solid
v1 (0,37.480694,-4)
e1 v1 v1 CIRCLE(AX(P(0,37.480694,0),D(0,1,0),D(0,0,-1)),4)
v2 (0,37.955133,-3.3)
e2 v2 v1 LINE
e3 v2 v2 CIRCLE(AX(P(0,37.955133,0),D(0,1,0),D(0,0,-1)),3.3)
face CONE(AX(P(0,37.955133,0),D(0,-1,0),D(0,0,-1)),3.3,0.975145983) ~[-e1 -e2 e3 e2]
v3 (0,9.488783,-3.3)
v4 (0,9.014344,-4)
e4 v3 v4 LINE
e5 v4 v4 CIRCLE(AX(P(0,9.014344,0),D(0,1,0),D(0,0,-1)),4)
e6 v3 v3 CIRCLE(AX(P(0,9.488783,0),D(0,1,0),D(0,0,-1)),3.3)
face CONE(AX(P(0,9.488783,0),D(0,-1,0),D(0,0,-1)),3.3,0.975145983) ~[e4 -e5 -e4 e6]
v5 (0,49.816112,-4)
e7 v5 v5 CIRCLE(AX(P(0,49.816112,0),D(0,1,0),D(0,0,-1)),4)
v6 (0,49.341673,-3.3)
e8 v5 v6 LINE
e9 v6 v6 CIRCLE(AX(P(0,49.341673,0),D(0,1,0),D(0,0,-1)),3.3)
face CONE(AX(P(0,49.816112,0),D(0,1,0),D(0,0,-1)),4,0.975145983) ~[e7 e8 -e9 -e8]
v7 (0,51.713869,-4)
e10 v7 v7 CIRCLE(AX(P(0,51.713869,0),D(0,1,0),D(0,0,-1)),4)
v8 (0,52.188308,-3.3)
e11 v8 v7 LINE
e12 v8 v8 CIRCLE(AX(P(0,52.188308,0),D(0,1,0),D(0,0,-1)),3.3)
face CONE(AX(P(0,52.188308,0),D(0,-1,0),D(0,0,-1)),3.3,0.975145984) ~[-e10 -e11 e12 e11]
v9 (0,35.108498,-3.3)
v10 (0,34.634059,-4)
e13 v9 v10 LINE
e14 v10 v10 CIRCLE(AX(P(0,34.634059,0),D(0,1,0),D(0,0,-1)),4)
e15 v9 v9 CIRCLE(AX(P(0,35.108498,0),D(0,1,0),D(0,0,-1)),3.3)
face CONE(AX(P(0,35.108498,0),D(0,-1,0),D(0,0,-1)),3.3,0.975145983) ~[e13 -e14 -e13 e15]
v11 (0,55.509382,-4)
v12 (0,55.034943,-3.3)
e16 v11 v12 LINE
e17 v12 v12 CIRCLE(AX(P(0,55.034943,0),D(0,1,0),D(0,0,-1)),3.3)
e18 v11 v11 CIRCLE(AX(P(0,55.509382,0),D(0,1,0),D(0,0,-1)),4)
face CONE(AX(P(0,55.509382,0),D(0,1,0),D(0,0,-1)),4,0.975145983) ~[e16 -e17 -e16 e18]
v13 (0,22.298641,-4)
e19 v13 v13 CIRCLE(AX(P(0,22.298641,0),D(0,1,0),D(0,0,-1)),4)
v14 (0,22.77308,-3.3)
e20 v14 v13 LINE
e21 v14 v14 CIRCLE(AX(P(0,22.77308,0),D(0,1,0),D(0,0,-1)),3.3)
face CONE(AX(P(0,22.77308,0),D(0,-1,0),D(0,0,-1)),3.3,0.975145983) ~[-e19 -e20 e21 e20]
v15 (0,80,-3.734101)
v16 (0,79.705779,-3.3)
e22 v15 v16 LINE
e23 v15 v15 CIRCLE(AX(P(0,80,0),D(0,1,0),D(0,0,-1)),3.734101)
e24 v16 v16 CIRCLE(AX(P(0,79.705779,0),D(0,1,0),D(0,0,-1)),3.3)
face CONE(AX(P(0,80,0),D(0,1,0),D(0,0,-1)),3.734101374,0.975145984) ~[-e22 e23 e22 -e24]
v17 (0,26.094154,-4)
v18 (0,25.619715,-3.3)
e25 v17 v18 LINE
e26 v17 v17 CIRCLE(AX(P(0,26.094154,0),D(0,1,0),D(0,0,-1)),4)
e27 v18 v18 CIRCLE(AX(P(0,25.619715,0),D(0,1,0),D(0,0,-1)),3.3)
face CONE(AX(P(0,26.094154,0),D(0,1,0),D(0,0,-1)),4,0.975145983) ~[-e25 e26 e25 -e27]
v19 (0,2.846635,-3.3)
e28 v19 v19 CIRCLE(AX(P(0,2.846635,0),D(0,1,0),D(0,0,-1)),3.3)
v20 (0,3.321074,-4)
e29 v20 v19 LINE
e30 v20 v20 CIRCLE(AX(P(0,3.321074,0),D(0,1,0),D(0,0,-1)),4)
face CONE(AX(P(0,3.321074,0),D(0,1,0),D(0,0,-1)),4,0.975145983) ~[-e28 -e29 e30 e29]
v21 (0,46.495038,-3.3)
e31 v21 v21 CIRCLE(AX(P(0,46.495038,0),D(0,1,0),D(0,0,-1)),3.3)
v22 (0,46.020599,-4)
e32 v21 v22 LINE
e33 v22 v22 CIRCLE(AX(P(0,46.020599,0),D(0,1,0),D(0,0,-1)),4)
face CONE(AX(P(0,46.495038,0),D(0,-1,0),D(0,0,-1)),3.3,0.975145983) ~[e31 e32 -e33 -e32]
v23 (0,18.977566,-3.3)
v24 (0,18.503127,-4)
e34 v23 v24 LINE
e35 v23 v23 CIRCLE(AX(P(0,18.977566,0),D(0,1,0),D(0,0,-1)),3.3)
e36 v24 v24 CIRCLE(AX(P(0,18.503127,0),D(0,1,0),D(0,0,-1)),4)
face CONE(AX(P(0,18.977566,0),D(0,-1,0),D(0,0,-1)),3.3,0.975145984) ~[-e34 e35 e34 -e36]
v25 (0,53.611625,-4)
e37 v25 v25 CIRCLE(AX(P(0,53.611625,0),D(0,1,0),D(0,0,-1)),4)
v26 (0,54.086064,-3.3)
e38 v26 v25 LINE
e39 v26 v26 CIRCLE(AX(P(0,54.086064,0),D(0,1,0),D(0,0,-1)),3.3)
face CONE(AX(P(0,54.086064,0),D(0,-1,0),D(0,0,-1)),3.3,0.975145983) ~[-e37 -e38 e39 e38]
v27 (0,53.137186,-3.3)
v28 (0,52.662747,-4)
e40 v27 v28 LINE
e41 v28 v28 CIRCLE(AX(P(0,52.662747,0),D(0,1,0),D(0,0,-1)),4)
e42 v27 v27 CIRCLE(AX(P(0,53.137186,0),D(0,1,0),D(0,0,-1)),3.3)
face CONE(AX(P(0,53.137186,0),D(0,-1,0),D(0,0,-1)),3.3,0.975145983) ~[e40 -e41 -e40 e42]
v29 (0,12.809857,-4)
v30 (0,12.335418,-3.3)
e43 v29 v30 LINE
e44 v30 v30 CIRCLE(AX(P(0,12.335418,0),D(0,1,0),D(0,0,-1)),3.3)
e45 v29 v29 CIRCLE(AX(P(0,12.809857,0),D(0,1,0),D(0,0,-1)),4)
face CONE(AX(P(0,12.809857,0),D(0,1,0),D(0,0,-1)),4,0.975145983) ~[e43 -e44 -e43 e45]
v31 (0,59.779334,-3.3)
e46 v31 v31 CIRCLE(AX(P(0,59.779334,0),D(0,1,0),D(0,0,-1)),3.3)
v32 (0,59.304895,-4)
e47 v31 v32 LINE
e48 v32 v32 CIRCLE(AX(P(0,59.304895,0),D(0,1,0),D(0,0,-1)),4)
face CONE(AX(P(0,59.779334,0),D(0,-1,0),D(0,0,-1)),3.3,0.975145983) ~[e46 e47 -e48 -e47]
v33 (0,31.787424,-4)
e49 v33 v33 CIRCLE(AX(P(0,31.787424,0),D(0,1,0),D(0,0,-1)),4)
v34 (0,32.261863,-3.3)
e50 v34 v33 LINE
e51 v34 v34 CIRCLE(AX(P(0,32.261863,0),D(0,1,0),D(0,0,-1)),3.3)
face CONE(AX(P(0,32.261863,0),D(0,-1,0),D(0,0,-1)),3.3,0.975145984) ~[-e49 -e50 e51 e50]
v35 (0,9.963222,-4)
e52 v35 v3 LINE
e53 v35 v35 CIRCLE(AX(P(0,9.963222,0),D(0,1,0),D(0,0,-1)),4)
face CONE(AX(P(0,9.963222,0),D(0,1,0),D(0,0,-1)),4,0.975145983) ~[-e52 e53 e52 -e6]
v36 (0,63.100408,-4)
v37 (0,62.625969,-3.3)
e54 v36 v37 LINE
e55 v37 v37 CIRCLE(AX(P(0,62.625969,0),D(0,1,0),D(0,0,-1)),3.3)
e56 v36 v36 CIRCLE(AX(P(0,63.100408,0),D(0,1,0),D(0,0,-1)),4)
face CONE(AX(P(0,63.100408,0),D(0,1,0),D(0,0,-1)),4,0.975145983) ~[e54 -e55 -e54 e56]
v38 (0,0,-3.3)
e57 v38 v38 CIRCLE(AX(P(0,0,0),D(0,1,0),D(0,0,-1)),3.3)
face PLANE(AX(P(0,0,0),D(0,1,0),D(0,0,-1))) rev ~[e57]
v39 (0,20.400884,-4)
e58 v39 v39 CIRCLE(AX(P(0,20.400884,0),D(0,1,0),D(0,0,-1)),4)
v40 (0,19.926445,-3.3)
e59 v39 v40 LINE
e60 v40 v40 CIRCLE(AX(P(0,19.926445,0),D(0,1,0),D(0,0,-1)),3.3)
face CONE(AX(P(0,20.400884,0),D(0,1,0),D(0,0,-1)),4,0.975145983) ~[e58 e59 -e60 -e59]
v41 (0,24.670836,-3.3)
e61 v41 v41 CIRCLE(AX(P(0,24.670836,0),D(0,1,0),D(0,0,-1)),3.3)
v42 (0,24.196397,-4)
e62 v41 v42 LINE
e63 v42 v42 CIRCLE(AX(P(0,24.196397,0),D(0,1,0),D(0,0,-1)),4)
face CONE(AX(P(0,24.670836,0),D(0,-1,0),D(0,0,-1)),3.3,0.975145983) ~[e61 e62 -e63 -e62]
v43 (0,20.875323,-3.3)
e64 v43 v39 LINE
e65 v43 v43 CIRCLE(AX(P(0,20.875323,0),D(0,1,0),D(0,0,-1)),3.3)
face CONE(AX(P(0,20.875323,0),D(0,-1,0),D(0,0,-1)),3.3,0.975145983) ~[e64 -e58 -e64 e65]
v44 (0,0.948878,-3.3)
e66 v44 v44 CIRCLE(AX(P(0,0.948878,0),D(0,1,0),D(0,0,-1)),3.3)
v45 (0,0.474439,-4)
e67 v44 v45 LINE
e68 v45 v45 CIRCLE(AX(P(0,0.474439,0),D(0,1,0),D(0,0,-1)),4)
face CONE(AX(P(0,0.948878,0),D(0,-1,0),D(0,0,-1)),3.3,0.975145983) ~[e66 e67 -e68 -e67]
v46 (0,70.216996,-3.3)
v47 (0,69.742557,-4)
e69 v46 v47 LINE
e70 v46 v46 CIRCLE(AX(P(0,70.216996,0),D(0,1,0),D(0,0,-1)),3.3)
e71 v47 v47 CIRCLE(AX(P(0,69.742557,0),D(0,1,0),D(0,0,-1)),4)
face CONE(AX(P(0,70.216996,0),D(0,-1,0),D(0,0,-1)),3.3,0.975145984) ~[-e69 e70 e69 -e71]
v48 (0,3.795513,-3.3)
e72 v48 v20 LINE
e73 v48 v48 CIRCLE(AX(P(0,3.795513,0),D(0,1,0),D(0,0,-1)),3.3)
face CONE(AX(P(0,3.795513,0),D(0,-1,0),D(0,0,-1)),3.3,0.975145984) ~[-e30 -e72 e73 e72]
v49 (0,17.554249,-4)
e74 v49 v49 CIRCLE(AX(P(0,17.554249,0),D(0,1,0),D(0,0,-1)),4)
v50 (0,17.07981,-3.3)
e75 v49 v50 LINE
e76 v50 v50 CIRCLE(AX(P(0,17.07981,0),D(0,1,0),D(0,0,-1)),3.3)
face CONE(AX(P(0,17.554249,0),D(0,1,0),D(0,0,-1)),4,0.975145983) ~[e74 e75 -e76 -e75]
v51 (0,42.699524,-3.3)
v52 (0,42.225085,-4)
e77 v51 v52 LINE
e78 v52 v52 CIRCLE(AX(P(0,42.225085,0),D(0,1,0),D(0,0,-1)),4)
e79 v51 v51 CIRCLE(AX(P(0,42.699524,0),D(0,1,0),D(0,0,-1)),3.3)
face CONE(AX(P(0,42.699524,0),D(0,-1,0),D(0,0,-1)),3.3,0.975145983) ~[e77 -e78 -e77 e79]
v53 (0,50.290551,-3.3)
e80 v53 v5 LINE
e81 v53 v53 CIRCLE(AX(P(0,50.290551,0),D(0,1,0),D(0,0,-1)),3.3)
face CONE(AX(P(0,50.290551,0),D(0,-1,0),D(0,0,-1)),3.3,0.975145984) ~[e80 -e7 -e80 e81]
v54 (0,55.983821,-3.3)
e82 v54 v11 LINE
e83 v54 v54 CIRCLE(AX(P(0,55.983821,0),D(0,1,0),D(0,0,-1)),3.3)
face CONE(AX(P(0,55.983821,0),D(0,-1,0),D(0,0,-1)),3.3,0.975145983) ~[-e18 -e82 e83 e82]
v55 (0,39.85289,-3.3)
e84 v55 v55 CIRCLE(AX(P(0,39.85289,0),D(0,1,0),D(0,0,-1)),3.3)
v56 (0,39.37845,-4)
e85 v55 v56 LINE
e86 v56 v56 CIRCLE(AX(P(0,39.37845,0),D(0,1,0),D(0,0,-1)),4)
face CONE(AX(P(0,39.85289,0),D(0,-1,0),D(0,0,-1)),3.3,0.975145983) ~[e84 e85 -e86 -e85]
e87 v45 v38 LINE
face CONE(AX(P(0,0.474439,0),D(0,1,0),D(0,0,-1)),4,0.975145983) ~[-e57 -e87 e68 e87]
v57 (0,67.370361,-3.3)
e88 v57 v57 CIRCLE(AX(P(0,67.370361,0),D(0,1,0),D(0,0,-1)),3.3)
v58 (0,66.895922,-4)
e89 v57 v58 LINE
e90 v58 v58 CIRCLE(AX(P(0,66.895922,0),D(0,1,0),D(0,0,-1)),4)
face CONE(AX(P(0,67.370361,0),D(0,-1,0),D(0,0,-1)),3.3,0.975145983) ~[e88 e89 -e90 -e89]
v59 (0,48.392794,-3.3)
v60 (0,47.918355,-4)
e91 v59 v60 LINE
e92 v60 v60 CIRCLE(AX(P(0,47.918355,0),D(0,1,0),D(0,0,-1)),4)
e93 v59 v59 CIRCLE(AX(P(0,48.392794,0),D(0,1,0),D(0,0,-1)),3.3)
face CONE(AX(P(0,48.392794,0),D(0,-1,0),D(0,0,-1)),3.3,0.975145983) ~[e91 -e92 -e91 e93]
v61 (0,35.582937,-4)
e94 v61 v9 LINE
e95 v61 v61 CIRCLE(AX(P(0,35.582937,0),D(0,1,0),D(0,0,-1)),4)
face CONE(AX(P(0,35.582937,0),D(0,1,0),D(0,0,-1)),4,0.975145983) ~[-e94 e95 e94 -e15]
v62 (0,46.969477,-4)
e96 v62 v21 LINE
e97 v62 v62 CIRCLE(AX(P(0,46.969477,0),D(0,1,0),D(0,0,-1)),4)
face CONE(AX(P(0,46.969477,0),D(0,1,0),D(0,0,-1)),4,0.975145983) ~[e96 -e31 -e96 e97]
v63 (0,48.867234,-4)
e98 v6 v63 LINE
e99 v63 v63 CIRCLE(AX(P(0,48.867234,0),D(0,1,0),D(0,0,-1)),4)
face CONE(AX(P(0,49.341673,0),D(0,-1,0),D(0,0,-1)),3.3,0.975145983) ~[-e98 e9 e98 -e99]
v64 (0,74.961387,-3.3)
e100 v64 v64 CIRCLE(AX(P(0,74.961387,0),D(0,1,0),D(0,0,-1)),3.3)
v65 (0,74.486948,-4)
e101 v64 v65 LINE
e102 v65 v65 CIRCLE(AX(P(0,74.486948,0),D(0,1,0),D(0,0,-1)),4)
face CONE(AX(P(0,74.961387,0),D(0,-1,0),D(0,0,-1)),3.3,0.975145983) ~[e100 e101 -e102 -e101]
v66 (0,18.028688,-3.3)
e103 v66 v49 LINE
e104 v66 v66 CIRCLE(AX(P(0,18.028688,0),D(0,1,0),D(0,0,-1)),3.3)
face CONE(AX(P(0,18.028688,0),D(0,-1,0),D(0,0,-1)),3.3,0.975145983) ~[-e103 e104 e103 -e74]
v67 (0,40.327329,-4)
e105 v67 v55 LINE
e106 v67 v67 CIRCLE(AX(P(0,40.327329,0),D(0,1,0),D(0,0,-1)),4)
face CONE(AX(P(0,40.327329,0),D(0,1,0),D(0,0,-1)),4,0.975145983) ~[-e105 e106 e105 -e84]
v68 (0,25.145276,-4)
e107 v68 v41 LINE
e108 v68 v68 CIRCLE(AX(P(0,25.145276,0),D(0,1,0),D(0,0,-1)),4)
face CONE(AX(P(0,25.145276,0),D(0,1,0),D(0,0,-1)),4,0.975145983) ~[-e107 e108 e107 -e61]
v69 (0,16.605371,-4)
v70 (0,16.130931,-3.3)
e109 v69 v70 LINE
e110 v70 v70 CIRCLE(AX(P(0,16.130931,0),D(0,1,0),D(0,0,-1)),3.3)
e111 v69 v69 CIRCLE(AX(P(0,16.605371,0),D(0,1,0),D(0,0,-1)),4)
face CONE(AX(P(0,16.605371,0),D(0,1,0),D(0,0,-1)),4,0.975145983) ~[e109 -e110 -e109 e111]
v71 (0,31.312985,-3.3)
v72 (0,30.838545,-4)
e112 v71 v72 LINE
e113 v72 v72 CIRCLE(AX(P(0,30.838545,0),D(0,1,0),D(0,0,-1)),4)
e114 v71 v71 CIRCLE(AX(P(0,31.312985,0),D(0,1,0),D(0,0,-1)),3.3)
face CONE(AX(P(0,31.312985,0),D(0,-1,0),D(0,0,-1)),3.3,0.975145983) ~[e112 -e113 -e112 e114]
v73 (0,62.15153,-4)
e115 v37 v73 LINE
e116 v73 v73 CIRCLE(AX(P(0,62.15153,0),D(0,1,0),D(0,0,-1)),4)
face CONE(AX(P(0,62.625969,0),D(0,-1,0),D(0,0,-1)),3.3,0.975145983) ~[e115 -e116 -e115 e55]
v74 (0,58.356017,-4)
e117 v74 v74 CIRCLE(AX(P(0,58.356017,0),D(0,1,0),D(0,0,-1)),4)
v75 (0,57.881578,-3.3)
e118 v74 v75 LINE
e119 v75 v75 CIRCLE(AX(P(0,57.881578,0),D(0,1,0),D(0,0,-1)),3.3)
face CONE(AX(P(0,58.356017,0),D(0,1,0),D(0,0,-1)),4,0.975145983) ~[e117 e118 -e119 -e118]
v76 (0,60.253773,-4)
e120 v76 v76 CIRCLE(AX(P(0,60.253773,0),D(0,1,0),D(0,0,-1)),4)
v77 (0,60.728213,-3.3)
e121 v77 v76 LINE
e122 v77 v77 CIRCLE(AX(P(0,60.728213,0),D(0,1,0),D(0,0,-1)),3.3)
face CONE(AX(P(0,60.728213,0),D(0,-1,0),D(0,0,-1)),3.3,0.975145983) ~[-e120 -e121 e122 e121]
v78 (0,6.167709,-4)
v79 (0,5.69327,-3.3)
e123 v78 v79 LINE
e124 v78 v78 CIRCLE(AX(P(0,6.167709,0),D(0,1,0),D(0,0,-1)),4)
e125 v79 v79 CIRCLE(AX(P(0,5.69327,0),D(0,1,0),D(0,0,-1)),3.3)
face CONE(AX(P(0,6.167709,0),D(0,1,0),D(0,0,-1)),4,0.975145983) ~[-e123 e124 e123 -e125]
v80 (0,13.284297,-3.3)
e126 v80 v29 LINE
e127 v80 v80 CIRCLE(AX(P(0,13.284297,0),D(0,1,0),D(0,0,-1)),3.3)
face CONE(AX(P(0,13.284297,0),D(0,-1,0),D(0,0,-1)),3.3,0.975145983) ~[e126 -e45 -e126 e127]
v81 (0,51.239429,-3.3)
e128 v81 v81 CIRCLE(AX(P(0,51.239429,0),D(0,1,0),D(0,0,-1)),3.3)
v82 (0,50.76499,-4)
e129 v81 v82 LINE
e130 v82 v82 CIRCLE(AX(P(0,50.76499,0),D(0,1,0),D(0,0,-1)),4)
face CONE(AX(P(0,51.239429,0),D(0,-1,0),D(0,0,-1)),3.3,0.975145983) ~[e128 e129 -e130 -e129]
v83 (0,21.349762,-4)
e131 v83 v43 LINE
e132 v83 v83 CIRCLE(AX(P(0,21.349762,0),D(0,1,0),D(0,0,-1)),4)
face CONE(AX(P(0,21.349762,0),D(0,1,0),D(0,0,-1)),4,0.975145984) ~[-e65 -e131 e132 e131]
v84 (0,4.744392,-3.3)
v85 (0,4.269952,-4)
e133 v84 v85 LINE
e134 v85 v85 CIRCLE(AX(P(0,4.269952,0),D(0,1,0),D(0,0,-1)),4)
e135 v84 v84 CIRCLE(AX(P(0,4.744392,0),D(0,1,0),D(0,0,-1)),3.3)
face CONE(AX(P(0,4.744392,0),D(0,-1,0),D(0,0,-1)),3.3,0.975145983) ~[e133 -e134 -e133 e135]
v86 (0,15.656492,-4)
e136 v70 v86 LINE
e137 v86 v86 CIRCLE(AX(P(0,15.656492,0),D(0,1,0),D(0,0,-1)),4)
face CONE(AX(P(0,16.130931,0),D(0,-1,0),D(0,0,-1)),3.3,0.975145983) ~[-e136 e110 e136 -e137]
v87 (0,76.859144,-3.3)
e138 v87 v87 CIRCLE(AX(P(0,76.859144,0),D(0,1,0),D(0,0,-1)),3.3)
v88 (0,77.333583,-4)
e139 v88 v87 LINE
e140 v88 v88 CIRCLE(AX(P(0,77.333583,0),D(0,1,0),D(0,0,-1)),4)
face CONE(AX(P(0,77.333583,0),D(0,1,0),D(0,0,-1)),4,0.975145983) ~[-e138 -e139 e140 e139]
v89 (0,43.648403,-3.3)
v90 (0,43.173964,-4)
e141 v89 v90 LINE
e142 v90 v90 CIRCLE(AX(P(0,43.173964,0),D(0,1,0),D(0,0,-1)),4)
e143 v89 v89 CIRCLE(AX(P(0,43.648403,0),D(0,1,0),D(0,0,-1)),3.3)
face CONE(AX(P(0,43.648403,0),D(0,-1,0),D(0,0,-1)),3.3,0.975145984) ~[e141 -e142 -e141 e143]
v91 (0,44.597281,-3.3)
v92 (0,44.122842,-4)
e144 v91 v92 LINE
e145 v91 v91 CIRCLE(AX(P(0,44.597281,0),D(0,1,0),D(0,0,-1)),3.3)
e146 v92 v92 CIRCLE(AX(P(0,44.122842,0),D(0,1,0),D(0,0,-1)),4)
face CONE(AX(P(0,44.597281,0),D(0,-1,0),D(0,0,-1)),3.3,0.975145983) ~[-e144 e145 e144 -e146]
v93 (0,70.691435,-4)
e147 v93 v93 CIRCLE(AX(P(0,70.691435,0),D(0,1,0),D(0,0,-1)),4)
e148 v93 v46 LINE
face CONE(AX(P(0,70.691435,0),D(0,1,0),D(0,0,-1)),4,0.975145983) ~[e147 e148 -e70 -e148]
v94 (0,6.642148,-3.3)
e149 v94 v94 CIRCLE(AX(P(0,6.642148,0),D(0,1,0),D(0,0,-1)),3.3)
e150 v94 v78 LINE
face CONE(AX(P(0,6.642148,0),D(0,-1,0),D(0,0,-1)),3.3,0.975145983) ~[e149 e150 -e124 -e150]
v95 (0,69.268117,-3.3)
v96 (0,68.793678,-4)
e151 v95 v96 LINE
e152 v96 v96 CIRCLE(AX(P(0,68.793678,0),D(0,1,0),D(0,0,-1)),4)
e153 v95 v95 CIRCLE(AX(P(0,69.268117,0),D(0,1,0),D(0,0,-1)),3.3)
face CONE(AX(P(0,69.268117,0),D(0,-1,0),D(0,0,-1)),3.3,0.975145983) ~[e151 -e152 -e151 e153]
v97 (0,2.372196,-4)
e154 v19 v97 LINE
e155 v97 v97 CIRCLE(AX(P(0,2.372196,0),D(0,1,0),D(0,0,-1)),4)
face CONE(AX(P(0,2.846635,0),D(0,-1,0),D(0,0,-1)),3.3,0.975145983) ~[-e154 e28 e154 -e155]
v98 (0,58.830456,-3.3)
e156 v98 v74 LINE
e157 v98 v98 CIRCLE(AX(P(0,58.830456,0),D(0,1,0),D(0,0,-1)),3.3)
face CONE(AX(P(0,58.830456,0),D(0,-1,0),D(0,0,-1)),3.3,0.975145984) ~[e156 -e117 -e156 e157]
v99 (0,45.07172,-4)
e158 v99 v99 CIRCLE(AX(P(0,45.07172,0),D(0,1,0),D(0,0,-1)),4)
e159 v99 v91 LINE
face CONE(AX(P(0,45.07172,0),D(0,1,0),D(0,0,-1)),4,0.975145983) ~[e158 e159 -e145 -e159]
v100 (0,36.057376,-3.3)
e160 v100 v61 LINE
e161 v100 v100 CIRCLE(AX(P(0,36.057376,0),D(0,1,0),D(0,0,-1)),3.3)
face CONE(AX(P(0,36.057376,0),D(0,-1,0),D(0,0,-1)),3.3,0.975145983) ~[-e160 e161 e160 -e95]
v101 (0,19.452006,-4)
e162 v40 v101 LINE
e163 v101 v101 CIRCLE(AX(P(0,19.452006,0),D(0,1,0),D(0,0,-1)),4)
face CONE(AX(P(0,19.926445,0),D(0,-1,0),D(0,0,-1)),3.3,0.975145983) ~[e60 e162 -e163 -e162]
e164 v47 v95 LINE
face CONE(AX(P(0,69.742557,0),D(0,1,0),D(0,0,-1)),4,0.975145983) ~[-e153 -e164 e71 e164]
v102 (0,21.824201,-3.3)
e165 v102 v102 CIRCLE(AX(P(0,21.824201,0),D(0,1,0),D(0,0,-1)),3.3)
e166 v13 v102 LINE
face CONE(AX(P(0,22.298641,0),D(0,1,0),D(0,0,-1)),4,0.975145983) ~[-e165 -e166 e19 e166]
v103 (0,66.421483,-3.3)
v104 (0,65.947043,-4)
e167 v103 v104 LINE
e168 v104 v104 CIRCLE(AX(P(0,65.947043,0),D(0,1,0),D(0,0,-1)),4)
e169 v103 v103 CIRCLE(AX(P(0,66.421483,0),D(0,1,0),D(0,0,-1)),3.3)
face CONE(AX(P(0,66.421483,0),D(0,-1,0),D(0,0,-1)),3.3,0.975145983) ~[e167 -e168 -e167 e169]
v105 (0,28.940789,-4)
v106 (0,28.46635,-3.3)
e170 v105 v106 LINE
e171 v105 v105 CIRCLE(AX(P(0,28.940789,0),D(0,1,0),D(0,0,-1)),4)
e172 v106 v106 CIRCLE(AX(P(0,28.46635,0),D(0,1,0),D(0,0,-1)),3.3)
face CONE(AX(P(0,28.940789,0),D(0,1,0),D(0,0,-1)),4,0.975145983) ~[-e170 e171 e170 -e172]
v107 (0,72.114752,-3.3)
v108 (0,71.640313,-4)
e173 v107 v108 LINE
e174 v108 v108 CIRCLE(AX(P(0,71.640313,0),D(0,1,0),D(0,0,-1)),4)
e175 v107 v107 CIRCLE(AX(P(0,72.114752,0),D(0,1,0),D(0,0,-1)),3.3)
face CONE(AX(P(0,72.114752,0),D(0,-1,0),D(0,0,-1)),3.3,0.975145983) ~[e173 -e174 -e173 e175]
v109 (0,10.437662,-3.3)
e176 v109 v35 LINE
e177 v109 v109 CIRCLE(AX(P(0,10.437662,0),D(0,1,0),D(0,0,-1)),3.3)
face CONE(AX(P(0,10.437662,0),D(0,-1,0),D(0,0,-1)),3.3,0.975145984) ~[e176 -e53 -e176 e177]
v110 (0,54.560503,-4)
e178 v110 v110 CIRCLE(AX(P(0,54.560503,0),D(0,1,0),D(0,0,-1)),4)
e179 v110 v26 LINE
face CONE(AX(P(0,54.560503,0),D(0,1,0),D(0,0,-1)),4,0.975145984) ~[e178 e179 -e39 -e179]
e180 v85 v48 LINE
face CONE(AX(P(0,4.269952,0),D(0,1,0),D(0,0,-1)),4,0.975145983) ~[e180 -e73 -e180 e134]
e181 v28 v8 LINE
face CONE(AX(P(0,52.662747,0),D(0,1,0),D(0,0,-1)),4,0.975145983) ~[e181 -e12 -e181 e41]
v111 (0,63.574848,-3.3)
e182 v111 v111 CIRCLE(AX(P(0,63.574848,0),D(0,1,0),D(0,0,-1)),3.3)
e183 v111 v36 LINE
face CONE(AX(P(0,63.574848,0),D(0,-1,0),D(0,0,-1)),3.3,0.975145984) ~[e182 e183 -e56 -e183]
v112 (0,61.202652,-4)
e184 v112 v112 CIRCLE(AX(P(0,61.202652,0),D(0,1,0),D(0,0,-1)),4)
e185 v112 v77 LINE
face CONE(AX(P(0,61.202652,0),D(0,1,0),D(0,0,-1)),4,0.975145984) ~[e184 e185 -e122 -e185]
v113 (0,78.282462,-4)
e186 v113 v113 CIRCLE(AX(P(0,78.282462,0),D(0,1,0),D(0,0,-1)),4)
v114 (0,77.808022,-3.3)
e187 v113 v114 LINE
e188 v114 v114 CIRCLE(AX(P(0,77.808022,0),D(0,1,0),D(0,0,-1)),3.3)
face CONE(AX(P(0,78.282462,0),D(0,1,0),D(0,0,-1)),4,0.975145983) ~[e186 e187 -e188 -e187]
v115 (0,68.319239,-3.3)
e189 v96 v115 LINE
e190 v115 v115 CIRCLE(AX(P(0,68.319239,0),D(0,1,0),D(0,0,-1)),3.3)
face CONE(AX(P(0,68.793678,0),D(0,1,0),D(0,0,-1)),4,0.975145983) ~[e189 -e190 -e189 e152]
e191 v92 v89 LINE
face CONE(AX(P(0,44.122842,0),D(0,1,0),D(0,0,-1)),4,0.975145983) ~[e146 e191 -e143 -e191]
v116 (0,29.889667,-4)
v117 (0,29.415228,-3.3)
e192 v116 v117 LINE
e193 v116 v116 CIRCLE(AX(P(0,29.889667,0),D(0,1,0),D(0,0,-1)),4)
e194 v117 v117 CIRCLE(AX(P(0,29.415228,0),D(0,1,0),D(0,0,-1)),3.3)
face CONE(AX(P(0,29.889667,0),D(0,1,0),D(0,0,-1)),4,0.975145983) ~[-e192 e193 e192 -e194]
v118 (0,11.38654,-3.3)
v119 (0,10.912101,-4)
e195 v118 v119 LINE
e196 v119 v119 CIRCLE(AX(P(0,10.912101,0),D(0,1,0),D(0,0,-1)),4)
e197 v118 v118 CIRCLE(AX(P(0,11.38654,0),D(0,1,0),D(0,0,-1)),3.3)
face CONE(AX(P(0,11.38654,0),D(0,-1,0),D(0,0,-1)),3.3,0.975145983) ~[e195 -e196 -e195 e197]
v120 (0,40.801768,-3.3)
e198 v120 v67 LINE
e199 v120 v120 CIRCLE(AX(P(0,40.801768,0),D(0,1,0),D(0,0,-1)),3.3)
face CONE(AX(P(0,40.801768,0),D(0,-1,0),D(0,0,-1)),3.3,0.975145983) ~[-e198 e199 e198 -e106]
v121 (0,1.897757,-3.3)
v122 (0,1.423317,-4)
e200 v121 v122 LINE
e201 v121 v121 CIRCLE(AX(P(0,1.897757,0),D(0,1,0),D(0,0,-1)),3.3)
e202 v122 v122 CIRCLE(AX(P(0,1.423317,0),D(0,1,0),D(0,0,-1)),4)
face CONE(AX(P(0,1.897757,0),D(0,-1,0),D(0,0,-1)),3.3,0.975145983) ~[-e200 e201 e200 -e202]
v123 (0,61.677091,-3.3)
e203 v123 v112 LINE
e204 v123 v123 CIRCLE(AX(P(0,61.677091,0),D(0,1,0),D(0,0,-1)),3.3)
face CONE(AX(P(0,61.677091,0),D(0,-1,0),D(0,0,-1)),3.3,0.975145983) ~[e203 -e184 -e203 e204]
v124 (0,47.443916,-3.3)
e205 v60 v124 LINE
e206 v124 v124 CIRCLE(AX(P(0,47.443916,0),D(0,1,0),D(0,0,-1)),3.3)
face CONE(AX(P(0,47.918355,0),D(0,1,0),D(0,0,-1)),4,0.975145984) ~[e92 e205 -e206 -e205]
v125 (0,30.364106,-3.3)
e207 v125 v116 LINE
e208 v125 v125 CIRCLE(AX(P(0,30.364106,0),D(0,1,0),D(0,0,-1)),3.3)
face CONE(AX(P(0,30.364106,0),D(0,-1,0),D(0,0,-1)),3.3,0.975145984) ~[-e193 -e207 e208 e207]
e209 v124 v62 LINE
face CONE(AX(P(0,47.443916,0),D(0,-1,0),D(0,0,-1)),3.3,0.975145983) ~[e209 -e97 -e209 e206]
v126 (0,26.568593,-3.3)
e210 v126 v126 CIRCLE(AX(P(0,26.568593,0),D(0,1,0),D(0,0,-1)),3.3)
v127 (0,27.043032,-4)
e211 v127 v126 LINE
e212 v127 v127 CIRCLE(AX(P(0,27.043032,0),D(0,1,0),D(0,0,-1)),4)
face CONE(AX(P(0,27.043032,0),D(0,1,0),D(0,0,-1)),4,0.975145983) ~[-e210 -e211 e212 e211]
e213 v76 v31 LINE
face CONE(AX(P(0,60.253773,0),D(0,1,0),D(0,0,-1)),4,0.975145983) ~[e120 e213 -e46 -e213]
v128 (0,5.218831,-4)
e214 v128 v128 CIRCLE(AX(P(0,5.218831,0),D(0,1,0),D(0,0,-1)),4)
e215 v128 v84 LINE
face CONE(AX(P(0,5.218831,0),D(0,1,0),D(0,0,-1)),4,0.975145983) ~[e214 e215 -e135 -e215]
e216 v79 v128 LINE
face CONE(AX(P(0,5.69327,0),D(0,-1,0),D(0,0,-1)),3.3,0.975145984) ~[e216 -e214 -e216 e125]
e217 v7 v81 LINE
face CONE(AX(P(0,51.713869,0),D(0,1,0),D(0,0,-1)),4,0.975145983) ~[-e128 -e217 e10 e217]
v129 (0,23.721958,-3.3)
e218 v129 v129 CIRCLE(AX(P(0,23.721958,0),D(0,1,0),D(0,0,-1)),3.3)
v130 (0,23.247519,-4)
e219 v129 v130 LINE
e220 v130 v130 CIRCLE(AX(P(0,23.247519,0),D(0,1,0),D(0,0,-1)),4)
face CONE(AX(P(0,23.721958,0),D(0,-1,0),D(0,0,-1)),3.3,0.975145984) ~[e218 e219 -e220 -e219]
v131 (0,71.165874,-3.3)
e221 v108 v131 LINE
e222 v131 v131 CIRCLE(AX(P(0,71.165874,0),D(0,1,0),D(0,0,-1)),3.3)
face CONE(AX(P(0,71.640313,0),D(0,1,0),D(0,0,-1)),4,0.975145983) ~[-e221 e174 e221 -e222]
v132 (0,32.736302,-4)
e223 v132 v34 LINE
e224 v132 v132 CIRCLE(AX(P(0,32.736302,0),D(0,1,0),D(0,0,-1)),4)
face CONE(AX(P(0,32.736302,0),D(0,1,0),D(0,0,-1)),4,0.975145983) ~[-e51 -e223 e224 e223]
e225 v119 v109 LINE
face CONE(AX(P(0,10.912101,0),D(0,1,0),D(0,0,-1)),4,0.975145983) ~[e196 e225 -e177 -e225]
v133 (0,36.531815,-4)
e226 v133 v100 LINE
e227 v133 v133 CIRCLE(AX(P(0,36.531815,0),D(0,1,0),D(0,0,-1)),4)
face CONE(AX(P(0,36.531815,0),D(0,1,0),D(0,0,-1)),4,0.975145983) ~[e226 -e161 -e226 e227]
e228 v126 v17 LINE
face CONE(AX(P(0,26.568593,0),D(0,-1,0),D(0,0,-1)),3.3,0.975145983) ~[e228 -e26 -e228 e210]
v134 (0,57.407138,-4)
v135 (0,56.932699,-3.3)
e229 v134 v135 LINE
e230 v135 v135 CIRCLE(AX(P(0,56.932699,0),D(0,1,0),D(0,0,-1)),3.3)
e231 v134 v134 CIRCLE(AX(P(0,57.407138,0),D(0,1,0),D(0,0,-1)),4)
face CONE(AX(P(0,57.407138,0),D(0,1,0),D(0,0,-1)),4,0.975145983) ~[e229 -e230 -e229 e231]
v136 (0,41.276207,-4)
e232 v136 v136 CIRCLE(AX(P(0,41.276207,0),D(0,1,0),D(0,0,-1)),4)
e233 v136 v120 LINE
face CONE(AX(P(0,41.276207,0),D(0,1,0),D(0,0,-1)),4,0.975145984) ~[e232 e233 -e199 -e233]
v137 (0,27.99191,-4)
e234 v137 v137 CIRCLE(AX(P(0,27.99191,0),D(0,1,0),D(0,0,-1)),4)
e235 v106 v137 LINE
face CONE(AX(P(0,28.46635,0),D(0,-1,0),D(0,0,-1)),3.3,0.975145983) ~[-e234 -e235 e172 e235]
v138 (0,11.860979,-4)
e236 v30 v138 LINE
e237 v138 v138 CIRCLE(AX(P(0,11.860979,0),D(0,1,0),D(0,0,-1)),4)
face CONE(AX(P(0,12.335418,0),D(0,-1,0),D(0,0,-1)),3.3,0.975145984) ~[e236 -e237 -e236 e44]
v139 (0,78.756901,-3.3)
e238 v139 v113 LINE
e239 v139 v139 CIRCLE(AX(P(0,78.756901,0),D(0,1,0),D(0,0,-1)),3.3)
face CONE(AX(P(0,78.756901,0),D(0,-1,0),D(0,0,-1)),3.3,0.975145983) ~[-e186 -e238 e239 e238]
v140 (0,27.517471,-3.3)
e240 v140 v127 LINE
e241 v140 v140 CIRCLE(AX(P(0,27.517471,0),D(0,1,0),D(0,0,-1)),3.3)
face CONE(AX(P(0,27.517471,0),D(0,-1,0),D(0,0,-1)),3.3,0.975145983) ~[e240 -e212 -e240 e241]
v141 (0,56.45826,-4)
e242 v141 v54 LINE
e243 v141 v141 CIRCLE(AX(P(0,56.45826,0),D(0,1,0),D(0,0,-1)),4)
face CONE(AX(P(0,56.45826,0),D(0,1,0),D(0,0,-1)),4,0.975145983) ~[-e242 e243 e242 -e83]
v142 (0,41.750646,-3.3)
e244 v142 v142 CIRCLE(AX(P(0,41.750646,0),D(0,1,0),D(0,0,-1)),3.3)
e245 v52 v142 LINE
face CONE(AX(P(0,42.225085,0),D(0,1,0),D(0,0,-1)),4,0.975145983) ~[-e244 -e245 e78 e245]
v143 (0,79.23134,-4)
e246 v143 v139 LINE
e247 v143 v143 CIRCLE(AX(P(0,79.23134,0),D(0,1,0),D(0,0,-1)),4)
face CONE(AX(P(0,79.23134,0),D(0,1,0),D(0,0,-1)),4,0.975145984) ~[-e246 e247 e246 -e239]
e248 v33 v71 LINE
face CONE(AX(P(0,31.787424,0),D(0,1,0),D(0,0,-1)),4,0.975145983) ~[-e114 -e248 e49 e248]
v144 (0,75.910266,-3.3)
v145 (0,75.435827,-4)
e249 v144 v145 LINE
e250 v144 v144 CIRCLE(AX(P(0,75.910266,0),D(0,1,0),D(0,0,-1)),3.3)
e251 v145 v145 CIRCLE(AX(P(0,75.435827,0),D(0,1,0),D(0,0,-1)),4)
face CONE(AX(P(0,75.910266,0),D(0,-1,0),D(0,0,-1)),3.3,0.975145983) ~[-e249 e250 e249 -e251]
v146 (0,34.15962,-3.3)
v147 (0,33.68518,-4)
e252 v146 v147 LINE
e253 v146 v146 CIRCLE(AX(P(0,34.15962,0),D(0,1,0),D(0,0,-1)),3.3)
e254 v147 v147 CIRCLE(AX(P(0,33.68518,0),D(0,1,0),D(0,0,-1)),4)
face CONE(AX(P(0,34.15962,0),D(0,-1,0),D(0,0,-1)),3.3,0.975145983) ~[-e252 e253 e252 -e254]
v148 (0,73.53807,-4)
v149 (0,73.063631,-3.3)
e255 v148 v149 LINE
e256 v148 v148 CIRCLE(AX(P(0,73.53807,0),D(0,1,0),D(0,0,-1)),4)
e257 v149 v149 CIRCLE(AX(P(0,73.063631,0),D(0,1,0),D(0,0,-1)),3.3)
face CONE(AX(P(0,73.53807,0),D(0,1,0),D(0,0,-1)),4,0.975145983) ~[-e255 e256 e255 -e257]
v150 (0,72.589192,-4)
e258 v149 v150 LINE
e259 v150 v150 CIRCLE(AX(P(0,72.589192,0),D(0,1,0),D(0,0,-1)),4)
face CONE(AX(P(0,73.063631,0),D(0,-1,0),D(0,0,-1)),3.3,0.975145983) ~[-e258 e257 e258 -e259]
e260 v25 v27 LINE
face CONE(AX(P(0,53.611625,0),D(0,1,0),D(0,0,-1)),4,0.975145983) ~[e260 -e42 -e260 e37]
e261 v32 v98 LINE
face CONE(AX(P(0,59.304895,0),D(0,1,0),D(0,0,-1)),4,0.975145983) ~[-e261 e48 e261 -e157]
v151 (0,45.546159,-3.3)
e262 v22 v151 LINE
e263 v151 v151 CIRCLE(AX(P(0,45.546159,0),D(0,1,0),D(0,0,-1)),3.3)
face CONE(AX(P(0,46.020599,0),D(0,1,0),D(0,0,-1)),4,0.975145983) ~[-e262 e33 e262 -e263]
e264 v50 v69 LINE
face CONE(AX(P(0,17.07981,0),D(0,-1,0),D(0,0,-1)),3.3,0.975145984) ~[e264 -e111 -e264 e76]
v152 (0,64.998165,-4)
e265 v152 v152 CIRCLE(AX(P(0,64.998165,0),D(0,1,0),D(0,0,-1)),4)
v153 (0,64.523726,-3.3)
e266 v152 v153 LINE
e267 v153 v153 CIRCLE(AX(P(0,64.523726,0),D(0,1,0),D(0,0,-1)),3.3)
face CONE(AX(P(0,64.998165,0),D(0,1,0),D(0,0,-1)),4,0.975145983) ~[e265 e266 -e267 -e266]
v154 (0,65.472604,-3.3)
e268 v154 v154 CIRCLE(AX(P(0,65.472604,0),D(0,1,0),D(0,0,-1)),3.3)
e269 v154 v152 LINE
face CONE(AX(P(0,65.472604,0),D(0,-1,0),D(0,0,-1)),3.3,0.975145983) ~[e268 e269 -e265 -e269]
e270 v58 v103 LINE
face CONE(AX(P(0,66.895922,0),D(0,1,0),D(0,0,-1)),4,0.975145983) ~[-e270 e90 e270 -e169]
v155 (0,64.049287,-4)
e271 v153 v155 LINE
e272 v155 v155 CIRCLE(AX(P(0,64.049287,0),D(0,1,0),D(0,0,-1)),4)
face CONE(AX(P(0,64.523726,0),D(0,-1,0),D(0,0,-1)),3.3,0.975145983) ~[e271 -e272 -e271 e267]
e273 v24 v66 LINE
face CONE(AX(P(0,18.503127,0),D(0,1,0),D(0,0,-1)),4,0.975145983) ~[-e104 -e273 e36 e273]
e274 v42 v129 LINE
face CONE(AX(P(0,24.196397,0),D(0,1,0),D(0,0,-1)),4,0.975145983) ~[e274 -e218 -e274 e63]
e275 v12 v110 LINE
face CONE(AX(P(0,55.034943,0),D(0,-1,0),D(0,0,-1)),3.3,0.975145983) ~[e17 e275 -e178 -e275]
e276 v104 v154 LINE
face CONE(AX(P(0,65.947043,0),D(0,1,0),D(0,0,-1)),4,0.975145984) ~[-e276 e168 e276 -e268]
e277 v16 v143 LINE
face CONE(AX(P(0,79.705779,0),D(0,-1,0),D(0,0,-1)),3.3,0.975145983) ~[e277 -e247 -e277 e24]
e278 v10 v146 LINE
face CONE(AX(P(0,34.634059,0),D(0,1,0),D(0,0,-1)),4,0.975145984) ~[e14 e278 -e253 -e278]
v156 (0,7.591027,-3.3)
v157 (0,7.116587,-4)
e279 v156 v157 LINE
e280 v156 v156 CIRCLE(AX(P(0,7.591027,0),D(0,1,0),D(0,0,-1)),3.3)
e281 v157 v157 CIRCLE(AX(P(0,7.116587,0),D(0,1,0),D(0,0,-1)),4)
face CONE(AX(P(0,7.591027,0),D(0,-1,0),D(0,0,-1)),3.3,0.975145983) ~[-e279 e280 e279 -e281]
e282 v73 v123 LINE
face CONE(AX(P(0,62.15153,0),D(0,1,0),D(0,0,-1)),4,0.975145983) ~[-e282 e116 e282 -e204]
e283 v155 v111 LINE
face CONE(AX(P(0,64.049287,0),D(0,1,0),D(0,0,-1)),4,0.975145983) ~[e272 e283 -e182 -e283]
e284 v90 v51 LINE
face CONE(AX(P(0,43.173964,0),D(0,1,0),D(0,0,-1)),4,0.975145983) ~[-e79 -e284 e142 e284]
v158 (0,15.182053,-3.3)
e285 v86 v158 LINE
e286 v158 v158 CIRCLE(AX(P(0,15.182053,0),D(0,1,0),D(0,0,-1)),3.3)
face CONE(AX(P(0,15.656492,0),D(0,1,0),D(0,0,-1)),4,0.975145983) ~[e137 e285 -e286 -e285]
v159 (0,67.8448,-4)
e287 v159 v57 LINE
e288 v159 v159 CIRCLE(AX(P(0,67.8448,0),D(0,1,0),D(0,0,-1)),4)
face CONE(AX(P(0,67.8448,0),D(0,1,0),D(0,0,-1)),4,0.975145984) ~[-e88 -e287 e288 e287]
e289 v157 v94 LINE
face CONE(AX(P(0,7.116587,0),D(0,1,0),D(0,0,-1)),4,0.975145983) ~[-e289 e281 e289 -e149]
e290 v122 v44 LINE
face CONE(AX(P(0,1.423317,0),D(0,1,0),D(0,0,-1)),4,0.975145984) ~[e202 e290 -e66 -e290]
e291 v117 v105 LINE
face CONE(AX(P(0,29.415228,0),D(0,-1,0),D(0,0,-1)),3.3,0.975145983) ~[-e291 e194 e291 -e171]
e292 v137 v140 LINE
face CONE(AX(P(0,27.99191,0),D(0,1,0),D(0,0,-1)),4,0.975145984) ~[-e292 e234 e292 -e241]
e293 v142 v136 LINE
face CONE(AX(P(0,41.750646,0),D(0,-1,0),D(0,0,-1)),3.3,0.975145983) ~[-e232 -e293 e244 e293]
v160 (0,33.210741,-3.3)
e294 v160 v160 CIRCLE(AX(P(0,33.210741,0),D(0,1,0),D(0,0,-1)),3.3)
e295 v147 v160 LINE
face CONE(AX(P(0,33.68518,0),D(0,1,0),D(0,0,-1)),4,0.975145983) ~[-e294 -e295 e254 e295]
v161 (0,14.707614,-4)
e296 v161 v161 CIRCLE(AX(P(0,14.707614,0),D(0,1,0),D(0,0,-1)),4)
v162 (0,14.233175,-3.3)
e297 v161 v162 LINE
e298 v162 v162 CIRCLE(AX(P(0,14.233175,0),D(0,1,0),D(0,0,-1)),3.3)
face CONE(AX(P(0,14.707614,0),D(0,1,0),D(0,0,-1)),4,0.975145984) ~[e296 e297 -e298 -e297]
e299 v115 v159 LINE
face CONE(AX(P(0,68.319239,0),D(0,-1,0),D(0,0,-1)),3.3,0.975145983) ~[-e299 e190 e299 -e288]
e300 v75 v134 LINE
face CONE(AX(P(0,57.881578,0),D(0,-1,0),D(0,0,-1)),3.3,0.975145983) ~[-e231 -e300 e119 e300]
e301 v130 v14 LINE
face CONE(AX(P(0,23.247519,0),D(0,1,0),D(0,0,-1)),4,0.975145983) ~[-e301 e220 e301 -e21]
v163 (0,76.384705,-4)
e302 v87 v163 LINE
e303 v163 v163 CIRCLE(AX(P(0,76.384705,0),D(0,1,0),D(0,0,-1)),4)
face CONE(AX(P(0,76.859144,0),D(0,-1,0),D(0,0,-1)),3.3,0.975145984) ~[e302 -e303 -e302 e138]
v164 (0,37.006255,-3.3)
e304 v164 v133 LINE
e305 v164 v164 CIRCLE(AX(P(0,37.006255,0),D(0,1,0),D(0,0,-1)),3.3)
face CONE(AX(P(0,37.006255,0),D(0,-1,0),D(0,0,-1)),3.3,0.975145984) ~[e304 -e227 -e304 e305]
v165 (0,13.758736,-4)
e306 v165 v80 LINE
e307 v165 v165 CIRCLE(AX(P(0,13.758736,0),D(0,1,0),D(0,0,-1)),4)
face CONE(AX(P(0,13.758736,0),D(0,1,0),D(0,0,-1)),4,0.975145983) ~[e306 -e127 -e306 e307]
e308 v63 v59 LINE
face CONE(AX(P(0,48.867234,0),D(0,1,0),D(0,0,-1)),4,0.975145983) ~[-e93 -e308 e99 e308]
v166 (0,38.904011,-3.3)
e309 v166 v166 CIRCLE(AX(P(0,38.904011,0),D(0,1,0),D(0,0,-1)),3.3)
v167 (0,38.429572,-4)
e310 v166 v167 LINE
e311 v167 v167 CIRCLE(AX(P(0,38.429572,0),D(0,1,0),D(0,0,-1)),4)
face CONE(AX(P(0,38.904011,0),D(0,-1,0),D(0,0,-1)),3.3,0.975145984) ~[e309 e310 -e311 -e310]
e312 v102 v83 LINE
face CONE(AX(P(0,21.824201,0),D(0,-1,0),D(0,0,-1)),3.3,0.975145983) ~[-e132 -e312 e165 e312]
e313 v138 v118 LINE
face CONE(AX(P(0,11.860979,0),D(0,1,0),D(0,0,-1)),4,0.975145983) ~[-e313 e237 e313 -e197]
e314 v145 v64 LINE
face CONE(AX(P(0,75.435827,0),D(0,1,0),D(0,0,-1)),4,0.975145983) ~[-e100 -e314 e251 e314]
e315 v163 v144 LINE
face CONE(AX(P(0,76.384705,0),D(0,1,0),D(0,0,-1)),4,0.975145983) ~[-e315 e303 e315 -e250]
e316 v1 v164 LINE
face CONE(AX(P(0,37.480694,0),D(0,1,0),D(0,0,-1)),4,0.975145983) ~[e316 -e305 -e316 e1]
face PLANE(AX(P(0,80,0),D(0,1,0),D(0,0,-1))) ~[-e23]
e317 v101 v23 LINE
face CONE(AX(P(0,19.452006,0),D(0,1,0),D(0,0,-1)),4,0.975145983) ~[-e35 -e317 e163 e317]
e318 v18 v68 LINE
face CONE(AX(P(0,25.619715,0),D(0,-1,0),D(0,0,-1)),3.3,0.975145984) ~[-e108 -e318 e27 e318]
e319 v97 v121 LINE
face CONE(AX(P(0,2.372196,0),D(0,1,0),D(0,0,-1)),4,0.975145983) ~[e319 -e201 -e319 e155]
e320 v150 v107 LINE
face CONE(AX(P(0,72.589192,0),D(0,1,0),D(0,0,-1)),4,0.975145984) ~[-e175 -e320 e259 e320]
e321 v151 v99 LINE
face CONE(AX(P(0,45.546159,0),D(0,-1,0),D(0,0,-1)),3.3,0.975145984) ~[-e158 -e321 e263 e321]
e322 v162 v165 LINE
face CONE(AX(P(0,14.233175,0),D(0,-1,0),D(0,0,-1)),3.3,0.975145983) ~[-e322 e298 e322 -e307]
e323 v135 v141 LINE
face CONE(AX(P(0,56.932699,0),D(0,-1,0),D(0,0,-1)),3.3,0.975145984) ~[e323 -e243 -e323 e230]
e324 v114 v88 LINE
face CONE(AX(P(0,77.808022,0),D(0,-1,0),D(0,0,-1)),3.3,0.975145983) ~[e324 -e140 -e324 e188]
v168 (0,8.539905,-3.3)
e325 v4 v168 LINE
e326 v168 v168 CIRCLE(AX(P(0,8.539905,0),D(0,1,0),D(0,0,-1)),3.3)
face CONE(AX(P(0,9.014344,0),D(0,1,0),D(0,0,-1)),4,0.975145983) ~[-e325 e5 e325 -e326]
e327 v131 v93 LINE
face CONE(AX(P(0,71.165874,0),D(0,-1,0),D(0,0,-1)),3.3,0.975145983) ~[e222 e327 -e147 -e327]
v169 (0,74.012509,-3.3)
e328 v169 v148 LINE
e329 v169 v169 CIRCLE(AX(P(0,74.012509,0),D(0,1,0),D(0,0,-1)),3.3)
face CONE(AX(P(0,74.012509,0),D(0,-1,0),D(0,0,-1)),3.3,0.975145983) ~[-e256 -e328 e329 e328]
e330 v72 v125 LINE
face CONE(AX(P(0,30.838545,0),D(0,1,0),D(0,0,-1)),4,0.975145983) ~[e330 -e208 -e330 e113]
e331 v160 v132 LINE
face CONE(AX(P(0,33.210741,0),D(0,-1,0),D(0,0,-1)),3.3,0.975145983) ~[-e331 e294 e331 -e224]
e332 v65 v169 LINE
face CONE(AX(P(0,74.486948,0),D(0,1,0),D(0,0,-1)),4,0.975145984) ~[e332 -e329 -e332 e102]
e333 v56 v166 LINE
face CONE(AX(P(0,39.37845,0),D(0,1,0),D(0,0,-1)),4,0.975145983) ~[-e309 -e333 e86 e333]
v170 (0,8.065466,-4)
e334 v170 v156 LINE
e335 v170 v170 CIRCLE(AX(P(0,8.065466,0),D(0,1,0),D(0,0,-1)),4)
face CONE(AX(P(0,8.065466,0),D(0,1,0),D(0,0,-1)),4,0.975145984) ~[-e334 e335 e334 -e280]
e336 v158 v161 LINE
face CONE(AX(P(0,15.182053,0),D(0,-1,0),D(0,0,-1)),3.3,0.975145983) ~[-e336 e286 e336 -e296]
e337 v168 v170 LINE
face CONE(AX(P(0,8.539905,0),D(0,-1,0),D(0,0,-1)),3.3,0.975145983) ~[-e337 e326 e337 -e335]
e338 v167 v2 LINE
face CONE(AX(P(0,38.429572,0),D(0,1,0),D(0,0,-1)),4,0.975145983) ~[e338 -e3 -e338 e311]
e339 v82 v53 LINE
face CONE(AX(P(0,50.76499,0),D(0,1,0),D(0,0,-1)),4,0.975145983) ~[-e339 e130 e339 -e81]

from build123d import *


with BuildPart() as part:
    # 草图1 → 旋转1 (revolve)
    with BuildSketch(Plane.XY, mode=Mode.PRIVATE) as revolve_1_sk:
        Polygon((0, 0), (0, 80), (3.734101374, 80), (3.3, 79.705779012), (4, 79.231339851), (3.3, 78.756900691), (4, 78.28246153), (3.3, 77.808022369), (4, 77.333583208), (3.3, 76.859144047), (4, 76.384704887), (3.3, 75.910265726), (4, 75.435826565), (3.3, 74.961387404), (4, 74.486948243), (3.3, 74.012509083), (4, 73.538069922), (3.3, 73.063630761), (4, 72.5891916), (3.3, 72.11475244), (4, 71.640313279), (3.3, 71.165874118), (4, 70.691434957), (3.3, 70.216995796), (4, 69.742556636), (3.3, 69.268117475), (4, 68.793678314), (3.3, 68.319239153), (4, 67.844799992), (3.3, 67.370360832), (4, 66.895921671), (3.3, 66.42148251), (4, 65.947043349), (3.3, 65.472604189), (4, 64.998165028), (3.3, 64.523725867), (4, 64.049286706), (3.3, 63.574847545), (4, 63.100408385), (3.3, 62.625969224), (4, 62.151530063), (3.3, 61.677090902), (4, 61.202651741), (3.3, 60.728212581), (4, 60.25377342), (3.3, 59.779334259), (4, 59.304895098), (3.3, 58.830455937), (4, 58.356016777), (3.3, 57.881577616), (4, 57.407138455), (3.3, 56.932699294), (4, 56.458260134), (3.3, 55.983820973), (4, 55.509381812), (3.3, 55.034942651), (4, 54.56050349), (3.3, 54.08606433), (4, 53.611625169), (3.3, 53.137186008), (4, 52.662746847), (3.3, 52.188307686), (4, 51.713868526), (3.3, 51.239429365), (4, 50.764990204), (3.3, 50.290551043), (4, 49.816111883), (3.3, 49.341672722), (4, 48.867233561), (3.3, 48.3927944), (4, 47.918355239), (3.3, 47.443916079), (4, 46.969476918), (3.3, 46.495037757), (4, 46.020598596), (3.3, 45.546159435), (4, 45.071720275), (3.3, 44.597281114), (4, 44.122841953), (3.3, 43.648402792), (4, 43.173963632), (3.3, 42.699524471), (4, 42.22508531), (3.3, 41.750646149), (4, 41.276206988), (3.3, 40.801767828), (4, 40.327328667), (3.3, 39.852889506), (4, 39.378450345), (3.3, 38.904011184), (4, 38.429572024), (3.3, 37.955132863), (4, 37.480693702), (3.3, 37.006254541), (4, 36.531815381), (3.3, 36.05737622), (4, 35.582937059), (3.3, 35.108497898), (4, 34.634058737), (3.3, 34.159619577), (4, 33.685180416), (3.3, 33.210741255), (4, 32.736302094), (3.3, 32.261862933), (4, 31.787423773), (3.3, 31.312984612), (4, 30.838545451), (3.3, 30.36410629), (4, 29.88966713), (3.3, 29.415227969), (4, 28.940788808), (3.3, 28.466349647), (4, 27.991910486), (3.3, 27.517471326), (4, 27.043032165), (3.3, 26.568593004), (4, 26.094153843), (3.3, 25.619714682), (4, 25.145275522), (3.3, 24.670836361), (4, 24.1963972), (3.3, 23.721958039), (4, 23.247518879), (3.3, 22.773079718), (4, 22.298640557), (3.3, 21.824201396), (4, 21.349762235), (3.3, 20.875323075), (4, 20.400883914), (3.3, 19.926444753), (4, 19.452005592), (3.3, 18.977566431), (4, 18.503127271), (3.3, 18.02868811), (4, 17.554248949), (3.3, 17.079809788), (4, 16.605370628), (3.3, 16.130931467), (4, 15.656492306), (3.3, 15.182053145), (4, 14.707613984), (3.3, 14.233174824), (4, 13.758735663), (3.3, 13.284296502), (4, 12.809857341), (3.3, 12.33541818), (4, 11.86097902), (3.3, 11.386539859), (4, 10.912100698), (3.3, 10.437661537), (4, 9.963222377), (3.3, 9.488783216), (4, 9.014344055), (3.3, 8.539904894), (4, 8.065465733), (3.3, 7.591026573), (4, 7.116587412), (3.3, 6.642148251), (4, 6.16770909), (3.3, 5.693269929), (4, 5.218830769), (3.3, 4.744391608), (4, 4.269952447), (3.3, 3.795513286), (4, 3.321074126), (3.3, 2.846634965), (4, 2.372195804), (3.3, 1.897756643), (4, 1.423317482), (3.3, 0.948878322), (4, 0.474439161), (3.3, 0), align=None)
    revolve(revolve_1_sk.sketch.rotate(Axis((0, 0, 0), (0, 1, 0)), 90), axis=Axis((0, 0, 0), (0, 1, 0)))


solid = part.part
